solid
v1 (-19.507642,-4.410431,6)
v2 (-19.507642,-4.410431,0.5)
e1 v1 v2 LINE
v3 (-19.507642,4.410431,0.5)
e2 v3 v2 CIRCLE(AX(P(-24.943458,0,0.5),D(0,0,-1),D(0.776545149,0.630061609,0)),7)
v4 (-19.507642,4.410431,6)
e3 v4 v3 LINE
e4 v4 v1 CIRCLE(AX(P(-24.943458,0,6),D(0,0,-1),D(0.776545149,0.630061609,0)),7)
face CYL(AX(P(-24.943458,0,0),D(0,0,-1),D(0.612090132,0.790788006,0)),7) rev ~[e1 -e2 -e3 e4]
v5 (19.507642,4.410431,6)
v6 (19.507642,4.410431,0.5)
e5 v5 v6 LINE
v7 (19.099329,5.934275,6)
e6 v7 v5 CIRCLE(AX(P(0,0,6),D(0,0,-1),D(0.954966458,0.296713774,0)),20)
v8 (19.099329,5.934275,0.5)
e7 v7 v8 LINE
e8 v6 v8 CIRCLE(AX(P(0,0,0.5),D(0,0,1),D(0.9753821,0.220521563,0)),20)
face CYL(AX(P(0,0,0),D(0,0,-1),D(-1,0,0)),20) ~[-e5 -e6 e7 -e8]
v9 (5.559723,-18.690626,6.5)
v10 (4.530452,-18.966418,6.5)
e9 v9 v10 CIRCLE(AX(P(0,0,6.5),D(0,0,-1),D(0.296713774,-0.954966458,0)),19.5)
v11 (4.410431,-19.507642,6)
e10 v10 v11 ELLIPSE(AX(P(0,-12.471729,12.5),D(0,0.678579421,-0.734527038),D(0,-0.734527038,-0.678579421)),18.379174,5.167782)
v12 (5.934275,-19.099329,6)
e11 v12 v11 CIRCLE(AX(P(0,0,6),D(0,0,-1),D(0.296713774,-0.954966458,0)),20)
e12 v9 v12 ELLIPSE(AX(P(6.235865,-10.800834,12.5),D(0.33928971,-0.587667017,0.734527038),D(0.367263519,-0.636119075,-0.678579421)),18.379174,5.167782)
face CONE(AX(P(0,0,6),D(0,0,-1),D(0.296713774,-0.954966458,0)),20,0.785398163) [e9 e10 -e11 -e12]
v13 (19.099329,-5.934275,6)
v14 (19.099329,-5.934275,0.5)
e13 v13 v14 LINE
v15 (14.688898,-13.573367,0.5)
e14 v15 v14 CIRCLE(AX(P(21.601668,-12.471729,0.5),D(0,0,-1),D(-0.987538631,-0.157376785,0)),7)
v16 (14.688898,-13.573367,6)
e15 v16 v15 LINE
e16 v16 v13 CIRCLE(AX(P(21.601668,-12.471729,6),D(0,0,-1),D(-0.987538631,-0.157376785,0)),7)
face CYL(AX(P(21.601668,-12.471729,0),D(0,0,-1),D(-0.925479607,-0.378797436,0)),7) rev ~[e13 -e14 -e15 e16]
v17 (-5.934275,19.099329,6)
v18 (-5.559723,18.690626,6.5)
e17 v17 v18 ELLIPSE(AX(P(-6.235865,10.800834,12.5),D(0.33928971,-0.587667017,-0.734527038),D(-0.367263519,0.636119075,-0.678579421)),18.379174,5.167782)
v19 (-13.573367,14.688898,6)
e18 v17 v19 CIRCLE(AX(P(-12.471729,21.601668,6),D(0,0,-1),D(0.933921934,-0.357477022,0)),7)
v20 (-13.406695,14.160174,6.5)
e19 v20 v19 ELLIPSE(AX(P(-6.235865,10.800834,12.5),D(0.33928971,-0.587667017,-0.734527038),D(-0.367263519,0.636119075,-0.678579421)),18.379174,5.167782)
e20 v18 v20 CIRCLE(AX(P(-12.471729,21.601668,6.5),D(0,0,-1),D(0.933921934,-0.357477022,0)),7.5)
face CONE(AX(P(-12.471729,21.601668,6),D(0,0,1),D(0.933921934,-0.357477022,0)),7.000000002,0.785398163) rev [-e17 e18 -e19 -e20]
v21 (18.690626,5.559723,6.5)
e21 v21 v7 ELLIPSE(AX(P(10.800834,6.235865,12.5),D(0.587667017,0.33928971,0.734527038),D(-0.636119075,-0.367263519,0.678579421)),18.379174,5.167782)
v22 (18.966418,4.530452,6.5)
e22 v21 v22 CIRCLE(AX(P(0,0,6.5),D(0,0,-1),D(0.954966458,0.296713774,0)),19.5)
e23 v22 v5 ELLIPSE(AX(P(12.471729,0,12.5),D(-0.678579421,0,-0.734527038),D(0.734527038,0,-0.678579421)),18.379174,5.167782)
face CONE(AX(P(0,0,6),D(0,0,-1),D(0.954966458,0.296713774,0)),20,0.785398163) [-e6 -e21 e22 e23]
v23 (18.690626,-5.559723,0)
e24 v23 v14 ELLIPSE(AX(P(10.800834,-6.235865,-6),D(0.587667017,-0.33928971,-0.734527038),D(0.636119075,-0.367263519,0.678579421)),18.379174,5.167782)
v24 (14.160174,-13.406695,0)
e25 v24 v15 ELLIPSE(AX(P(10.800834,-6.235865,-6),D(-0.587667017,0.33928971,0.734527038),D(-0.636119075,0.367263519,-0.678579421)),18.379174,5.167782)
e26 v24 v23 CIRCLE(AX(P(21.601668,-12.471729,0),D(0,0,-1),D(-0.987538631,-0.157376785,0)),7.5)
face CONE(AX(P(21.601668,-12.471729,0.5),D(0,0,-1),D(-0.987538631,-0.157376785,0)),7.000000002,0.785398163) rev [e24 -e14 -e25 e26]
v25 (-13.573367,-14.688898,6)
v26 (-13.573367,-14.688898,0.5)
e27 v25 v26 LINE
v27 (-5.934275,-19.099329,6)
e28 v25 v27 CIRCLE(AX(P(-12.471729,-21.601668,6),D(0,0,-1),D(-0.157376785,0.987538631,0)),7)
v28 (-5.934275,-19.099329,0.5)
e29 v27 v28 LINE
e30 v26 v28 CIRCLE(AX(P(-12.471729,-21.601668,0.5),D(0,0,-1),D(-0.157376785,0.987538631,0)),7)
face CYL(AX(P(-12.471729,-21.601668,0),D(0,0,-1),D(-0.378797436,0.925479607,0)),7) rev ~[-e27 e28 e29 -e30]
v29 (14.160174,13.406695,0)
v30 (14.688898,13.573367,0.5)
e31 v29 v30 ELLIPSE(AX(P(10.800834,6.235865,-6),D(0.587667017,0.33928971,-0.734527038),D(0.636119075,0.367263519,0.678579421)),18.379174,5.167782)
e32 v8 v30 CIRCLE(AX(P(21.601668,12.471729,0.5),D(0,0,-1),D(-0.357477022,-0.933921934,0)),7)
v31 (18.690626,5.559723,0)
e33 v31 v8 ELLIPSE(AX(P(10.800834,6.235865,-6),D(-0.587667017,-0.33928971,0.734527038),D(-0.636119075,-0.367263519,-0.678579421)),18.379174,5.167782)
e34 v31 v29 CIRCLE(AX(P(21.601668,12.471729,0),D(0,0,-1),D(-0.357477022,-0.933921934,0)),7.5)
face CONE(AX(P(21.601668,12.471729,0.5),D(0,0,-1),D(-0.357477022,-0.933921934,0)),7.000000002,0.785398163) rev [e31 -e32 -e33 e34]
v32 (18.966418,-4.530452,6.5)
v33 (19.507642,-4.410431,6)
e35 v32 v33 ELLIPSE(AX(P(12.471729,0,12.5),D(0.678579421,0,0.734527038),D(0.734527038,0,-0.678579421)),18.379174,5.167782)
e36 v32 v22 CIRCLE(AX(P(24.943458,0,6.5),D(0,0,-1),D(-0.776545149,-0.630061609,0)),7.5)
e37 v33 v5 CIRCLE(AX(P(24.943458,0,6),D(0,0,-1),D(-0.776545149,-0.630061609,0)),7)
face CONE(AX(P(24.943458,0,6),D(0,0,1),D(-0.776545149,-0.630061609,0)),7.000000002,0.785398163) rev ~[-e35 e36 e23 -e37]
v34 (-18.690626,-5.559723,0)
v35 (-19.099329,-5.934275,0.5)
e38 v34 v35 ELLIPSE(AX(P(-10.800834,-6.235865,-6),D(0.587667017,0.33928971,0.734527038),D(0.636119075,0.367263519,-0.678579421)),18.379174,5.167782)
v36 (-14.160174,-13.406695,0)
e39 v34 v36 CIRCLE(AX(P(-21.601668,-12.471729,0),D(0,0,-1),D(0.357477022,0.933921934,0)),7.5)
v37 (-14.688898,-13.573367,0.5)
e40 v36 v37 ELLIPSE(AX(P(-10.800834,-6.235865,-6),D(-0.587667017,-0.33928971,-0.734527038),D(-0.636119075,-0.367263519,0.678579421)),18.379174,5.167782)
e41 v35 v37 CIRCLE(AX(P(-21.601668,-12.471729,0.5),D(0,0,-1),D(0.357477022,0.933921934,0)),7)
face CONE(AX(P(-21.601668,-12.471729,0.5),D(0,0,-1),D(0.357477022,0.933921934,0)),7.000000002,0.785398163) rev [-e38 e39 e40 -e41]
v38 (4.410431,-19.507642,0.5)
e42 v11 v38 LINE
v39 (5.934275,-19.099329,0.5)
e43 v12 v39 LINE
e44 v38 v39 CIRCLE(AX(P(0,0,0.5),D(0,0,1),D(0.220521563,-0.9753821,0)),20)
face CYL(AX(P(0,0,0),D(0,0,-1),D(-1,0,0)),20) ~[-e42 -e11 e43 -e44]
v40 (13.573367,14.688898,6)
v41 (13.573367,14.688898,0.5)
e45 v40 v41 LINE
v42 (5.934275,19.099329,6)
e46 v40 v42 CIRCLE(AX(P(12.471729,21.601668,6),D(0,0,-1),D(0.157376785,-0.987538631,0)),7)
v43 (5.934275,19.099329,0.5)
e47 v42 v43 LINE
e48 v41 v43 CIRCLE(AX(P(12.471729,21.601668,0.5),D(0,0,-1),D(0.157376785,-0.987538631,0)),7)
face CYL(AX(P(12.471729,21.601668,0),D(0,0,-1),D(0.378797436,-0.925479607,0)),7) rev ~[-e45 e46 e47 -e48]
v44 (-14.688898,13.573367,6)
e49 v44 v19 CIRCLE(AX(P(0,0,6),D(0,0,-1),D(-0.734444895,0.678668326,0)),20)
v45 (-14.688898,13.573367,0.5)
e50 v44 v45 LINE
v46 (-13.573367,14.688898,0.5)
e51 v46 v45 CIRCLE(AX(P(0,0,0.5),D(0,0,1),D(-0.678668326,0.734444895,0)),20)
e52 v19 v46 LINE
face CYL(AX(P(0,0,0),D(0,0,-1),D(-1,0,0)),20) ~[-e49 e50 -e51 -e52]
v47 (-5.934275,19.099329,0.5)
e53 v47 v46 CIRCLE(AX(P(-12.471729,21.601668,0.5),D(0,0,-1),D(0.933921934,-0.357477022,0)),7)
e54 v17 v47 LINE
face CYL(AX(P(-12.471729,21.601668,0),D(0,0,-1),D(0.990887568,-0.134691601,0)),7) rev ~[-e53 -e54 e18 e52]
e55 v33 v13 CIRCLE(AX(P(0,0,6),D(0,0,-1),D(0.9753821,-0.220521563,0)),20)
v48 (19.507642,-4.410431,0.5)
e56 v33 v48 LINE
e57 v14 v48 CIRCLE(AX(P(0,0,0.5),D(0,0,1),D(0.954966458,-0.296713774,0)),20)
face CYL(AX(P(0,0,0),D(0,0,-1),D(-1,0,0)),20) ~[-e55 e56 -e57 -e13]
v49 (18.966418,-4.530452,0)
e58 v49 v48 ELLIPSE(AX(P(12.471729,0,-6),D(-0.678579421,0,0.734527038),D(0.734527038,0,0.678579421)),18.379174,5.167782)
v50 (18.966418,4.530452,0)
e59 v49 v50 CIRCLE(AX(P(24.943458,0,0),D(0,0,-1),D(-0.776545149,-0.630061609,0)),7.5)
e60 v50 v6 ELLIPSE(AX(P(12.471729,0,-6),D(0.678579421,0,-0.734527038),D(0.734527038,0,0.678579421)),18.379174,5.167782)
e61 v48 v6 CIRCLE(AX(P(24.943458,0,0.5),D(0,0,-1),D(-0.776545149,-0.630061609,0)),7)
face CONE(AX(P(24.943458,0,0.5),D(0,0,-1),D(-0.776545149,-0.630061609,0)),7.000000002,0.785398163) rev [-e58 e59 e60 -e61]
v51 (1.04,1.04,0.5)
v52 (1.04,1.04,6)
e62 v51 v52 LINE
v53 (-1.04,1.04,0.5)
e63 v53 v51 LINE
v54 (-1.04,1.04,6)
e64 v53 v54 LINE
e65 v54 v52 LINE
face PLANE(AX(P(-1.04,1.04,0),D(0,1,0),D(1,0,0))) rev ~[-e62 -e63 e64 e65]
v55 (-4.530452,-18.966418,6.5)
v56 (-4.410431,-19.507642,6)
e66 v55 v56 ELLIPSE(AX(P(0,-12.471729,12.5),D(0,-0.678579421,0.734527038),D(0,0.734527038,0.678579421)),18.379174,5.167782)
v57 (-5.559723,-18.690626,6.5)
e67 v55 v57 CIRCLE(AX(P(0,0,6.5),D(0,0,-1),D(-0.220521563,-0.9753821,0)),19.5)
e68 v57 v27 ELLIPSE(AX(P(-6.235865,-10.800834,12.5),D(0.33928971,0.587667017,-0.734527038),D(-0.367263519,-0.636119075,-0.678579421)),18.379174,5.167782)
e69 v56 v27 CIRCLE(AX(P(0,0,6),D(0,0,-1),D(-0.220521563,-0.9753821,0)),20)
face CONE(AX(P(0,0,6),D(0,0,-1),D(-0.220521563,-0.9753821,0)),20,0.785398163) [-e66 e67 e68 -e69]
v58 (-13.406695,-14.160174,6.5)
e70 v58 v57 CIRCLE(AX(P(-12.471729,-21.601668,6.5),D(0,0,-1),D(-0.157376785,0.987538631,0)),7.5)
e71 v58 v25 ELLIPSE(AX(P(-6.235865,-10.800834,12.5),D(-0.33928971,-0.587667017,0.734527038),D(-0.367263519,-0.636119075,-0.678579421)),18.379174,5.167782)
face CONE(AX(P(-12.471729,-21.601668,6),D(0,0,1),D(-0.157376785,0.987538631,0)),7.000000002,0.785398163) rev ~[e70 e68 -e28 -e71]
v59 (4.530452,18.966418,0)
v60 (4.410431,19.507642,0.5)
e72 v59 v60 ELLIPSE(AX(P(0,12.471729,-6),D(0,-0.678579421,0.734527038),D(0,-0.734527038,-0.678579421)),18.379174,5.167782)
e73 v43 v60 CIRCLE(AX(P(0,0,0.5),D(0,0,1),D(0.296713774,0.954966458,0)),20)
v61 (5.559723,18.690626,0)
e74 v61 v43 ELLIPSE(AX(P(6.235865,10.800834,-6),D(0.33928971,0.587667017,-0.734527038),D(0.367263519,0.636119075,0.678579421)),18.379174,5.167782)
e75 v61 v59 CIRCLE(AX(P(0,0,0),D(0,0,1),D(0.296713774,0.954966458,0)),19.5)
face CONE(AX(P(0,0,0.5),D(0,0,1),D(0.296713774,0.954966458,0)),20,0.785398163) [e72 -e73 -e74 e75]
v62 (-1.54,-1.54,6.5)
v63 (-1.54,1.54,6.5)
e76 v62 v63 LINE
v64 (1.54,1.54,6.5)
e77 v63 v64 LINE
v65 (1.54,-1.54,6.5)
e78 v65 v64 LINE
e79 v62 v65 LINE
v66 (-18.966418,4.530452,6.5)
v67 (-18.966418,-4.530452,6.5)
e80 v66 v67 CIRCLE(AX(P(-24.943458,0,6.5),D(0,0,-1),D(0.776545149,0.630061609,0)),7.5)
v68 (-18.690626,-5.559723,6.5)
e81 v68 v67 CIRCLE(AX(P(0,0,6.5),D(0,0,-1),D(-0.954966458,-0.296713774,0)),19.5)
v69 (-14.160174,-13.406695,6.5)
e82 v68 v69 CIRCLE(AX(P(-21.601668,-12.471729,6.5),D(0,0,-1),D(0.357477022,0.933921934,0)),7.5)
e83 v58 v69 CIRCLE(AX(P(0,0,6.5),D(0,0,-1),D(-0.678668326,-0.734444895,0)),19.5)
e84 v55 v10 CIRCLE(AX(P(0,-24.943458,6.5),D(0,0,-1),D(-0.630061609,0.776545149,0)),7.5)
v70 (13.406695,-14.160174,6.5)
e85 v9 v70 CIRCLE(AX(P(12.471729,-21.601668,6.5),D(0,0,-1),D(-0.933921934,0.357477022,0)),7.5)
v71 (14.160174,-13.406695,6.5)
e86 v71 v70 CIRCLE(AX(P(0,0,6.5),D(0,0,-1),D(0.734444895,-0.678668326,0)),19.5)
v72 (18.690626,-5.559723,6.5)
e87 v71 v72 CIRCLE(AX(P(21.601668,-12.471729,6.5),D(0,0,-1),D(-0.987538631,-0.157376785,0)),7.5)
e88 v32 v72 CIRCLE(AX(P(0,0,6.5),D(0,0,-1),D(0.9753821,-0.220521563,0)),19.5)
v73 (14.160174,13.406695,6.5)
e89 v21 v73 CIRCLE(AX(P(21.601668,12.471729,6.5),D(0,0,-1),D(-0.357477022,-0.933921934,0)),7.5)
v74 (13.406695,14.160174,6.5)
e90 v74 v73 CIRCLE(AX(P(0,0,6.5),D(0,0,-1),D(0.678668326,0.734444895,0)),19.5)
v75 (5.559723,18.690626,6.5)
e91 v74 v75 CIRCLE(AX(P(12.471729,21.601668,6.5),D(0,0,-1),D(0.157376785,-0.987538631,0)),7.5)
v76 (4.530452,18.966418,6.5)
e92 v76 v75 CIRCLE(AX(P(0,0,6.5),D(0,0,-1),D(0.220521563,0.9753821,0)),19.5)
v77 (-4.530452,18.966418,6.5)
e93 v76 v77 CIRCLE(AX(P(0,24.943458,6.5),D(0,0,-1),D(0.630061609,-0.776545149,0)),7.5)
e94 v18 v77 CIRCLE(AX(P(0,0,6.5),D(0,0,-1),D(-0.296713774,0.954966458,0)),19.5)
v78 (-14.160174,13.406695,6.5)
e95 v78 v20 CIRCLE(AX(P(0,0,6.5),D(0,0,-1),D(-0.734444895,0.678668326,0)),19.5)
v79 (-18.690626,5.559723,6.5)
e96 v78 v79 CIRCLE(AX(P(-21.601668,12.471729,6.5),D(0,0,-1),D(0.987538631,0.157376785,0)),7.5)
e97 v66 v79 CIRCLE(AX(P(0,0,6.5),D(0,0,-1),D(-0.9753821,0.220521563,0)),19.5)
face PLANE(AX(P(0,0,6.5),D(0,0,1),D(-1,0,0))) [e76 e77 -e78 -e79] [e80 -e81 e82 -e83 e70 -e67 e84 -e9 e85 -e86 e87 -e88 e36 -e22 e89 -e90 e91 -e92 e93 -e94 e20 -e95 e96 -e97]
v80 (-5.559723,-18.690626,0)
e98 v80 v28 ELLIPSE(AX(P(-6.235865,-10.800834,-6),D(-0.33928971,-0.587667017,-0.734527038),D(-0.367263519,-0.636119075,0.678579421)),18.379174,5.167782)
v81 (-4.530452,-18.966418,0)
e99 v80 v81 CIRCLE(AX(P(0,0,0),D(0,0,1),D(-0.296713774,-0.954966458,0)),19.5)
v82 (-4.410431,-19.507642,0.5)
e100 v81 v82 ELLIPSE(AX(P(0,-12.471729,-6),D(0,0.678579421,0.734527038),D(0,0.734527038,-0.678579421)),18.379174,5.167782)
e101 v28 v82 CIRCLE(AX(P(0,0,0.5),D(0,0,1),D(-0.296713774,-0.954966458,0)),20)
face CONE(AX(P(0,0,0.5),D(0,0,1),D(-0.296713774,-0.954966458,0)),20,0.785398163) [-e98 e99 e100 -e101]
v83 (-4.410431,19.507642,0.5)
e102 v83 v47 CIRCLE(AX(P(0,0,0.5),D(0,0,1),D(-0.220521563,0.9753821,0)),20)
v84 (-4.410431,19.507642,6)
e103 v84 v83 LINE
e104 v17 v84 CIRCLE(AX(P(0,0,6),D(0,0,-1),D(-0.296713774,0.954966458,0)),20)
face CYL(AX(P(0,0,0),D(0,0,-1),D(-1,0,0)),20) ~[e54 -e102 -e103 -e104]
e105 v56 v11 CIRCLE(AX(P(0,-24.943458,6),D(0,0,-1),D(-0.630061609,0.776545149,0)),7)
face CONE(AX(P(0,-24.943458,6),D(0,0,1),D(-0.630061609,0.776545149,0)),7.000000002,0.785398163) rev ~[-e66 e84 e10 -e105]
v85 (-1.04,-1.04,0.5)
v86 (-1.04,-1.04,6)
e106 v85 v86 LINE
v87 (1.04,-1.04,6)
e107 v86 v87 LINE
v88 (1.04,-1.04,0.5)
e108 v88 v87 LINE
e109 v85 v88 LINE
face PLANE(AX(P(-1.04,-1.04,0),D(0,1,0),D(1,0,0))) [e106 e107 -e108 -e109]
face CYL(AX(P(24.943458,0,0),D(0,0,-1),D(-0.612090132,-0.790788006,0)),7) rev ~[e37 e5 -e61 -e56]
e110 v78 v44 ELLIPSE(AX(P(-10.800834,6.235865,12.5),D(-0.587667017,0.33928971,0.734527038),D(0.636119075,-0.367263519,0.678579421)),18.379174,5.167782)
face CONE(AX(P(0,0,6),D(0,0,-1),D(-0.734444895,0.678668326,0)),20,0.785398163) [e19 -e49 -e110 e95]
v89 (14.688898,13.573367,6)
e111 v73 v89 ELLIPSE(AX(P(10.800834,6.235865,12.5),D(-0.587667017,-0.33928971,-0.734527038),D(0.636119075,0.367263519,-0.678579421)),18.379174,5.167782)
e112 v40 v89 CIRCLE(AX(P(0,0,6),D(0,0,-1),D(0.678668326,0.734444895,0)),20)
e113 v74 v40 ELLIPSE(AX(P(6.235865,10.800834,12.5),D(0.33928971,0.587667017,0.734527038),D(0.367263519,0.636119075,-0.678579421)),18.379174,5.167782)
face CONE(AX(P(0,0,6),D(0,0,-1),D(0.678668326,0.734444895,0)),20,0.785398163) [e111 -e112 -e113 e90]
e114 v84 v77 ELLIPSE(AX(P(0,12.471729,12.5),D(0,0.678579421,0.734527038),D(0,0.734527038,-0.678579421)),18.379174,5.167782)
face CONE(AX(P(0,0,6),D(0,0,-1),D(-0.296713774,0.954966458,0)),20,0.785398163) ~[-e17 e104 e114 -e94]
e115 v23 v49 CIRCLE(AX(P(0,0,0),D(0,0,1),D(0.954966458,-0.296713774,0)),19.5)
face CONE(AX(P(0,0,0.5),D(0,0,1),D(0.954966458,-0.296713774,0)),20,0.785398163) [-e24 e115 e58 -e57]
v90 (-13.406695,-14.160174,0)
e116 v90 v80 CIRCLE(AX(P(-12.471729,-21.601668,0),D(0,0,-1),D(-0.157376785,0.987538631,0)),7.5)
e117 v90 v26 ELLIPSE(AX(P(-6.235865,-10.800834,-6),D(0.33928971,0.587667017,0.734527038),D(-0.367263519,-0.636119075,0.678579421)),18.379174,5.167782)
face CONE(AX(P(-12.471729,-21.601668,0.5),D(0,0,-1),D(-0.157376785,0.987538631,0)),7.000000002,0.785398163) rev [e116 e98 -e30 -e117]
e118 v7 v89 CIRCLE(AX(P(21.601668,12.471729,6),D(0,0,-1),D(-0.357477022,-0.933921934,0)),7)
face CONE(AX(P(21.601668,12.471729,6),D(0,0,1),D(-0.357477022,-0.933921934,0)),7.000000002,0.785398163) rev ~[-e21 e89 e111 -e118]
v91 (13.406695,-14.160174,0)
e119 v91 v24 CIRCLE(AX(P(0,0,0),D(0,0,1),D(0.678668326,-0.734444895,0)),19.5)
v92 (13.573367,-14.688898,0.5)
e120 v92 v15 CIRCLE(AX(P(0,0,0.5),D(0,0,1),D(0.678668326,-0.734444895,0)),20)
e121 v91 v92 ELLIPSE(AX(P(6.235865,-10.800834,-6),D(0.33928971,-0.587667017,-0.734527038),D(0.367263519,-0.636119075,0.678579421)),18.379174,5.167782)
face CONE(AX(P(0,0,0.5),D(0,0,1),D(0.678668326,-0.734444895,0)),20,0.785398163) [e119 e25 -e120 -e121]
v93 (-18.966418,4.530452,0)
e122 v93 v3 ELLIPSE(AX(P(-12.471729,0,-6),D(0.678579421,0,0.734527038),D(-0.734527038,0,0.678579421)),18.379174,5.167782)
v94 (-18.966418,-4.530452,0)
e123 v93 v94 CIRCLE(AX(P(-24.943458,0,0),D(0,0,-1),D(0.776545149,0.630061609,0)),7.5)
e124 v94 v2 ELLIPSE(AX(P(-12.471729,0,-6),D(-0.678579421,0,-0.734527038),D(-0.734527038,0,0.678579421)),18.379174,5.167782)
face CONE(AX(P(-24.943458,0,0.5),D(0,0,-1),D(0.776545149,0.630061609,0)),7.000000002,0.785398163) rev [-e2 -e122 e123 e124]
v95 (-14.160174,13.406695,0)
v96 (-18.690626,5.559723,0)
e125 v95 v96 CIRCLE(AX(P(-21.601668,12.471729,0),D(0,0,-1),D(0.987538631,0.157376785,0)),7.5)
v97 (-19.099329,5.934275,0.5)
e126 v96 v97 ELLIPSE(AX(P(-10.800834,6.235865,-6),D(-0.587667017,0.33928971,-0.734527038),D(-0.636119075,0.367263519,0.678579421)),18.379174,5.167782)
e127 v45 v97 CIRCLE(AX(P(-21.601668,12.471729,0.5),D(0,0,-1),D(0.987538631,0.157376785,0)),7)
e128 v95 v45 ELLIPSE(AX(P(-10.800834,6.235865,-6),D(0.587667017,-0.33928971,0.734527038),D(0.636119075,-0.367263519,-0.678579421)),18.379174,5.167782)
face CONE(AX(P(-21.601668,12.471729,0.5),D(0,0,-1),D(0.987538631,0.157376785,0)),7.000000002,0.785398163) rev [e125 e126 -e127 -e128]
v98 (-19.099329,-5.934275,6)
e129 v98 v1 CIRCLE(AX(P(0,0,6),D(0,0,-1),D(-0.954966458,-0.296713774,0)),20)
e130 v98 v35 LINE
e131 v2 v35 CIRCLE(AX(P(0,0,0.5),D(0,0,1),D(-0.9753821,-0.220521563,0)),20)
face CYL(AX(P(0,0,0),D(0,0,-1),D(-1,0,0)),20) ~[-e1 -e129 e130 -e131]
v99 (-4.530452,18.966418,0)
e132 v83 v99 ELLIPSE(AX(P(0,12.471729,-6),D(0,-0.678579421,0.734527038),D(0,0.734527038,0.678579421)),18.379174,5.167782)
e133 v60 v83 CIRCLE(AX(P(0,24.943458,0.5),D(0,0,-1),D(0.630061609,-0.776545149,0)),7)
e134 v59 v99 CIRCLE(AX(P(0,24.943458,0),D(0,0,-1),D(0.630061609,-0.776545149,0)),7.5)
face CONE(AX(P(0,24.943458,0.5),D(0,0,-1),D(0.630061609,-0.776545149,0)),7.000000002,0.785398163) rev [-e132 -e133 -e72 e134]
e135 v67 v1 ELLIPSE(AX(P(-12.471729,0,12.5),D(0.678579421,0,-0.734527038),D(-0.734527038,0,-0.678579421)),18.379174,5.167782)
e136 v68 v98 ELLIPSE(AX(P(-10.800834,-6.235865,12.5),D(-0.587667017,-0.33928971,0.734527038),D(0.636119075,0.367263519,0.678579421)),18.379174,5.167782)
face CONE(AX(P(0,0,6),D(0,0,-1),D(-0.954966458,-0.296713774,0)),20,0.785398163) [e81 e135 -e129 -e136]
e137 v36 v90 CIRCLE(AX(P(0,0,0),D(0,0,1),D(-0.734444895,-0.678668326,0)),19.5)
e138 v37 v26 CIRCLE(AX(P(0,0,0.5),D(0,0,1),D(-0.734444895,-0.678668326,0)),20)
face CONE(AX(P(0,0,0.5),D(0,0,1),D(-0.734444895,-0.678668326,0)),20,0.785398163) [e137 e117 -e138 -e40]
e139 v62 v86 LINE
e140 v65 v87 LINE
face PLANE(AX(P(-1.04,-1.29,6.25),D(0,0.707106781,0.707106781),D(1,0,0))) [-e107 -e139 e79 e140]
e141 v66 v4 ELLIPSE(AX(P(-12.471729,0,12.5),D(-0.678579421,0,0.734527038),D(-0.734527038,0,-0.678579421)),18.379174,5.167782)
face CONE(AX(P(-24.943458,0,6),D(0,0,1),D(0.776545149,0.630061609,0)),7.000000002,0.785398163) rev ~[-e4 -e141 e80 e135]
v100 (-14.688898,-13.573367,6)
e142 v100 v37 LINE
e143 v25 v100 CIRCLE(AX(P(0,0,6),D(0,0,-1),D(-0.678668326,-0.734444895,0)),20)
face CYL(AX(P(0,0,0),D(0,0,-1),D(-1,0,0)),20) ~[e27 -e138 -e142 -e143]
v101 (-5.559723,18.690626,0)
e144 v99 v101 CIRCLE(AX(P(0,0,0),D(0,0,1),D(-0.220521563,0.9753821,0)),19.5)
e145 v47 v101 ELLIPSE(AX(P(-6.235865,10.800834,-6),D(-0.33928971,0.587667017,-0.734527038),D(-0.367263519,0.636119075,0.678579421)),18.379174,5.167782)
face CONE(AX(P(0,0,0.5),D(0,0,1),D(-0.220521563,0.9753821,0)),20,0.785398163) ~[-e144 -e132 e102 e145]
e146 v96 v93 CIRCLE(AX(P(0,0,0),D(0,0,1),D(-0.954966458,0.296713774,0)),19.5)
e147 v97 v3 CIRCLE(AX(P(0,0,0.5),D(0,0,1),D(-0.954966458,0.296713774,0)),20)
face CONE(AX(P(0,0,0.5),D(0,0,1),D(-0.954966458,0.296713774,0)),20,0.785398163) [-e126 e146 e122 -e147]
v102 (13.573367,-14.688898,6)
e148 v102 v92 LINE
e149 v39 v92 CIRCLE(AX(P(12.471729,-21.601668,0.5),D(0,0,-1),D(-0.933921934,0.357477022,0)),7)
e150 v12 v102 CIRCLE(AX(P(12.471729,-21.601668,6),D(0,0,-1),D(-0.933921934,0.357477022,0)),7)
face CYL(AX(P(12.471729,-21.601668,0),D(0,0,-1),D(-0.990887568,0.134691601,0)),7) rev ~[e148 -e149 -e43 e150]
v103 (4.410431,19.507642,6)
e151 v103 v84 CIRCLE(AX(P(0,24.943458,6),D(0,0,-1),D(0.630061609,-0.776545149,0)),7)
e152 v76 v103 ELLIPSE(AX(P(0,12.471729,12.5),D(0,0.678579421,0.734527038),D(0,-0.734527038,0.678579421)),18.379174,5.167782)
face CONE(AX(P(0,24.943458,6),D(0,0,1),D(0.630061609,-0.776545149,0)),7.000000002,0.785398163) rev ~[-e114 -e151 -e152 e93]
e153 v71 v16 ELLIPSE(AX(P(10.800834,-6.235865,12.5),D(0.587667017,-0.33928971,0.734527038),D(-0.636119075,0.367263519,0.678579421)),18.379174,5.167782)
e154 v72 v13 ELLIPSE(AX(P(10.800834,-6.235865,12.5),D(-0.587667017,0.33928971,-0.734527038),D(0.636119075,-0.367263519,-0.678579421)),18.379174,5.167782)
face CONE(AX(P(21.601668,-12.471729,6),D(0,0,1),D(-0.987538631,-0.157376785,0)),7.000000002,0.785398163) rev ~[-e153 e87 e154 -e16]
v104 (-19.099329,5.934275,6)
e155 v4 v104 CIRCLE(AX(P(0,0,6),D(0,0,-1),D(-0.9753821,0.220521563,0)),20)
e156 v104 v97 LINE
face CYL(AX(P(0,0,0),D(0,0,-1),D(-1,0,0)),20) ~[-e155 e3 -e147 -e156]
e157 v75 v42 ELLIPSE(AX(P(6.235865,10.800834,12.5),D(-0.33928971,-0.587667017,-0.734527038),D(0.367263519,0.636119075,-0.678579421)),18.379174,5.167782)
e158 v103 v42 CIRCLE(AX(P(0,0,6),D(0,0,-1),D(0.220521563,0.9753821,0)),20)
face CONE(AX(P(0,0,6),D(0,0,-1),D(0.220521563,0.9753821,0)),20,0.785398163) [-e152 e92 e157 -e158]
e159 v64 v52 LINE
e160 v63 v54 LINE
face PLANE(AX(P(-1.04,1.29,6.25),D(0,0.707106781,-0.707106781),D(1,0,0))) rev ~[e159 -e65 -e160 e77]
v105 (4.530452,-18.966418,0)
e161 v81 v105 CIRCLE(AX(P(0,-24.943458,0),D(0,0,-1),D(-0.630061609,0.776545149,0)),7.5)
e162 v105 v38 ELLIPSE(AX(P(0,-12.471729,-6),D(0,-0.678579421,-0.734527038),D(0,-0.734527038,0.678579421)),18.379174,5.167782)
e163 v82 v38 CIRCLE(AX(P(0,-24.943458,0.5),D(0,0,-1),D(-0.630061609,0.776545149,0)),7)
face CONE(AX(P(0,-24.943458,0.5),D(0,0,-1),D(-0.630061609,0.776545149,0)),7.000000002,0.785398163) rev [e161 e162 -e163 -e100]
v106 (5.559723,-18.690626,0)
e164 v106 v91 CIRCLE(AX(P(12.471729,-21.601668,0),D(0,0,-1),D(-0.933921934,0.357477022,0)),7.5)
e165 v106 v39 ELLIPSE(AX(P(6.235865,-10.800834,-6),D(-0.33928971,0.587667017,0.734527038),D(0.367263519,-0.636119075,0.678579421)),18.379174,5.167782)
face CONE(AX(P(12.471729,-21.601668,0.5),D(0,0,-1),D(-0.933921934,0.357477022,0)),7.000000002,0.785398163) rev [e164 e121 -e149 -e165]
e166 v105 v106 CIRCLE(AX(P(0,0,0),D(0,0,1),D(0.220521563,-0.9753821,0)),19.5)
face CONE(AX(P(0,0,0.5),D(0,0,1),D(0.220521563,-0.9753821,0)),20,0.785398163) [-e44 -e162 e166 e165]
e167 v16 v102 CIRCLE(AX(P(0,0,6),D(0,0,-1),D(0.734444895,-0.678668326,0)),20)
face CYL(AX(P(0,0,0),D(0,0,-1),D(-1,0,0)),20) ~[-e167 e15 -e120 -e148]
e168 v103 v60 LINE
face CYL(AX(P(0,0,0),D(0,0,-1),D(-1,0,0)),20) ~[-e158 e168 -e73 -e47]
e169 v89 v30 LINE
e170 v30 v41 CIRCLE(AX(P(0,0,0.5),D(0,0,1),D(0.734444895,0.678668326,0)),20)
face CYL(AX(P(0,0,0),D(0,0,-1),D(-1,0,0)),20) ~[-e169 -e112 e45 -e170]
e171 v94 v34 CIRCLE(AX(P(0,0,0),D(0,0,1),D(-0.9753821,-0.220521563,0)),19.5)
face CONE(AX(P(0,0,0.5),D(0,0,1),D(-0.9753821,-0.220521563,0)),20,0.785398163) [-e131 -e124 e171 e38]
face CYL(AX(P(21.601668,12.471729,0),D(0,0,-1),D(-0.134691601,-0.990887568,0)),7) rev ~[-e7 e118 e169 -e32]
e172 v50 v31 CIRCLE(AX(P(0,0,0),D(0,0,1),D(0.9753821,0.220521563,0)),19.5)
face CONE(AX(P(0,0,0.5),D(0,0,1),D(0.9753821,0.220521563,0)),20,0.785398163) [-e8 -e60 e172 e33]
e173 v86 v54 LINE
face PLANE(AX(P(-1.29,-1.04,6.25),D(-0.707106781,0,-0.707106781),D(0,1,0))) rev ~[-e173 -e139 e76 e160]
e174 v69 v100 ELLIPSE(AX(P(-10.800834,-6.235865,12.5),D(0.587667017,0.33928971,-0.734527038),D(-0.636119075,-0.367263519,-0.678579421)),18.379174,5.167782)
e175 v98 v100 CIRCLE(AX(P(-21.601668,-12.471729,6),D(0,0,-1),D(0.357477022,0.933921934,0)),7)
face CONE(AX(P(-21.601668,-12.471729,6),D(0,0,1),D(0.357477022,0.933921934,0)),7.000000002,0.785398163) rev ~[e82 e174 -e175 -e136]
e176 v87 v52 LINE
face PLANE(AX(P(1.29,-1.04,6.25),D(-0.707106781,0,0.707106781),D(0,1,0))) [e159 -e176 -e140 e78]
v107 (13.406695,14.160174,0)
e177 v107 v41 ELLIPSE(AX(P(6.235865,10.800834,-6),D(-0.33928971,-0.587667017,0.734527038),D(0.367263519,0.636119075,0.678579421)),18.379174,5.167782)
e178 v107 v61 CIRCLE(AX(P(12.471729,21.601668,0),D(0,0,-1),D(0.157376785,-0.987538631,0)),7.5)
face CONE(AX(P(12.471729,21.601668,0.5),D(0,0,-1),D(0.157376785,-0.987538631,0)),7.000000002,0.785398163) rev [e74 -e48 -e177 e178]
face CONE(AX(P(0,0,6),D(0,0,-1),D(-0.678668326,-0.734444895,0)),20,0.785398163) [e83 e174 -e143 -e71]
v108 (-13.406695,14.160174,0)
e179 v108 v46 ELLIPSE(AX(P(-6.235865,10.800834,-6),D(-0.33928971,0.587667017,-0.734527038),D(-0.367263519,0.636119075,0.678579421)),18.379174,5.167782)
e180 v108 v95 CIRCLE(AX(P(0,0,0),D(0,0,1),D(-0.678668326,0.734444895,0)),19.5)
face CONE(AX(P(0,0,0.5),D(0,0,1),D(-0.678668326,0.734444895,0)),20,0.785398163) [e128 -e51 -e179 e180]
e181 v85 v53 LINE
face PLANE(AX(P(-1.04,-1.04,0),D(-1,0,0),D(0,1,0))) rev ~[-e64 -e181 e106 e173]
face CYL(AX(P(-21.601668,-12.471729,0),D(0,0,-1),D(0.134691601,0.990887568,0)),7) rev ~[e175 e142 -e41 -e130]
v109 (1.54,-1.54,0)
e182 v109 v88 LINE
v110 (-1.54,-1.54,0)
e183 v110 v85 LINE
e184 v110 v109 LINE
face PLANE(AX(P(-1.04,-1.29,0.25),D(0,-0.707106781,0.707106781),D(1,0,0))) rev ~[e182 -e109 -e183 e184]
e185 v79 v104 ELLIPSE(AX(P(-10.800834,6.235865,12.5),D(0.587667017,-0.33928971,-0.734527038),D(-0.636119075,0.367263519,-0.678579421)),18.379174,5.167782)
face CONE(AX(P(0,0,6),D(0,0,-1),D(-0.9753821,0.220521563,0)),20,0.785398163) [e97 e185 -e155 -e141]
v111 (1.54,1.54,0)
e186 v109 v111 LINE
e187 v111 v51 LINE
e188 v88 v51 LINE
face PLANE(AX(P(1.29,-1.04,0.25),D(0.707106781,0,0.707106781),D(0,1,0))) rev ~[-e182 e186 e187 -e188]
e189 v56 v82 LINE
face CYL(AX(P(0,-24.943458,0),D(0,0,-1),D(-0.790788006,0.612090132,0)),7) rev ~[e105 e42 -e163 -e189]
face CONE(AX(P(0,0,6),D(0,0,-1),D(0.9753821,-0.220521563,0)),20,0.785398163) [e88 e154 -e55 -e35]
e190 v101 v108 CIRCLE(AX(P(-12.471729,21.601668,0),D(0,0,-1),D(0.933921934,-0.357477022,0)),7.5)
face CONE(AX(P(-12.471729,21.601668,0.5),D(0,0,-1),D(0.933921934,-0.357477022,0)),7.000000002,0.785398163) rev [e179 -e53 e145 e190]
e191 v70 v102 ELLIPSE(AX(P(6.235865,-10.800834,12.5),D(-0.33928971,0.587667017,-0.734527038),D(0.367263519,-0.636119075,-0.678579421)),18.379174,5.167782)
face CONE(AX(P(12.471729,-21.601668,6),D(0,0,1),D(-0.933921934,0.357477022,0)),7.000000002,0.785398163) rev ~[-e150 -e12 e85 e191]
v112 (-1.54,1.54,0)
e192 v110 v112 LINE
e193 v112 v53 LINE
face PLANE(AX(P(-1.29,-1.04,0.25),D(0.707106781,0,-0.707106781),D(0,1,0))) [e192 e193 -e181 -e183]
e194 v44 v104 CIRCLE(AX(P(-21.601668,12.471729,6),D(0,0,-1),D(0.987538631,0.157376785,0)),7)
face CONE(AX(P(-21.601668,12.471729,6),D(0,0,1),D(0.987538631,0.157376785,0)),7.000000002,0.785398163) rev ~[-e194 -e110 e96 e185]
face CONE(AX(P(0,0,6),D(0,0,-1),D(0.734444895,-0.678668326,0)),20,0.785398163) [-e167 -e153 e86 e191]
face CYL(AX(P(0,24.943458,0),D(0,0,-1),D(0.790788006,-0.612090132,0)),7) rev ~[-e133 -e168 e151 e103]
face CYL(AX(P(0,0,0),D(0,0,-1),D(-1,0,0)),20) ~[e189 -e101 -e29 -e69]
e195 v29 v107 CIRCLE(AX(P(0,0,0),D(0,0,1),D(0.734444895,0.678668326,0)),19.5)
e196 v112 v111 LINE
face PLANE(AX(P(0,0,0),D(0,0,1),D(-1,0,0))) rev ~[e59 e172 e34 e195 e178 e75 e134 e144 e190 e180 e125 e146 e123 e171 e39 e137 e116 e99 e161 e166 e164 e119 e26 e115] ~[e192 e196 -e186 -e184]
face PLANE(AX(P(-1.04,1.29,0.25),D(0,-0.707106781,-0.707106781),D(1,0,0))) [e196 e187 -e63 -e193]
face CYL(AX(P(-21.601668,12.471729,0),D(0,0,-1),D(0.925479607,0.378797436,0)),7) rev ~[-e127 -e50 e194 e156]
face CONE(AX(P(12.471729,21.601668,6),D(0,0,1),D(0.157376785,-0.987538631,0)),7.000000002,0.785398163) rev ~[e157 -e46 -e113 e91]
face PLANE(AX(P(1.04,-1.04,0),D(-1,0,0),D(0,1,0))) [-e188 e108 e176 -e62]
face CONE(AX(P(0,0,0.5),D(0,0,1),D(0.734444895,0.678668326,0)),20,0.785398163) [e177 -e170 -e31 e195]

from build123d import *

# Parameters (mm, degrees)
SKIZZE1_R                       = 20
SKIZZE1_W                       = 2.08
SKIZZE1_H                       = 2.08
AUFSATZ_LINEAR_AUSTRAGEN1_DEPTH = 6.5
SCHNITT_LINEAR_AUSTRAGEN1_DEPTH = 6.5
KREISMUSTER1_COUNT              = 12
FASE1_SIZE                      = 0.5


with BuildPart() as part:
    # Skizze1 → Aufsatz-Linear austragen1 (new body)
    with BuildSketch(Plane.XY):
        with Locations(Location((0, 0, 0), (0, 0, 180))):
            Circle(SKIZZE1_R)
        Rectangle(SKIZZE1_W, SKIZZE1_H, mode=Mode.SUBTRACT)
    extrude(amount=AUFSATZ_LINEAR_AUSTRAGEN1_DEPTH)

    # Skizze2 → Schnitt-Linear austragen1 (cut)
    with BuildSketch(Plane.XY):
        with BuildLine():
            Line((-5.535516041, 20.658827109), (5.535516041, 20.658827109))
            ThreePointArc((5.535516041, 20.658827109), (0, 17.943458035), (-5.535516041, 20.658827109))
        make_face()
    schnitt_linear_austragen1 = extrude(amount=SCHNITT_LINEAR_AUSTRAGEN1_DEPTH, mode=Mode.SUBTRACT)

    # Kreismuster1: Schnitt-Linear austragen1 ×12 about axis
    kreismuster1_axis = Axis((0, 0, 0), (0, 0, 1))
    for i in range(1, KREISMUSTER1_COUNT):
        add(schnitt_linear_austragen1.rotate(kreismuster1_axis, i * 360 / KREISMUSTER1_COUNT), mode=Mode.SUBTRACT)

    # Fase1
    fase1_edges = [part.edges().sort_by_distance(p)[0] for p in [
        (1.04, 0, 6.5),
        (0, 1.04, 6.5),
        (-19.318516526, 5.176380902, 0),
        (-15.53949049, 8.971729017, 0),
        (-19.318516526, 5.176380902, 6.5),
        (-15.53949049, 8.971729017, 6.5),
        (-14.142135624, -14.142135624, 0),
        (-15.53949049, -8.971729017, 0),
        (-14.142135624, -14.142135624, 6.5),
        (-15.53949049, -8.971729017, 6.5),
        (5.176380902, -19.318516526, 0),
        (0, -17.943458035, 0),
        (5.176380902, -19.318516526, 6.5),
        (0, -17.943458035, 6.5),
        (19.318516526, -5.176380902, 0),
        (15.53949049, -8.971729017, 0),
        (19.318516526, -5.176380902, 6.5),
        (15.53949049, -8.971729017, 6.5),
        (14.142135624, 14.142135624, 0),
        (15.53949049, 8.971729017, 0),
        (14.142135624, 14.142135624, 6.5),
        (15.53949049, 8.971729017, 6.5),
        (-5.176380902, 19.318516526, 6.5),
        (-5.176380902, 19.318516526, 0),
        (0, 17.943458035, 0),
        (0, 17.943458035, 6.5),
        (-14.142135624, 14.142135624, 0),
        (-19.318516526, -5.176380902, 0),
        (-5.176380902, -19.318516526, 0),
        (14.142135624, -14.142135624, 0),
        (19.318516526, 5.176380902, 0),
        (5.176380902, 19.318516526, 0),
        (-8.971729017, 15.53949049, 0),
        (-17.943458035, 0, 0),
        (-8.971729017, -15.53949049, 0),
        (8.971729017, -15.53949049, 0),
        (17.943458035, 0, 0),
        (8.971729017, 15.53949049, 0),
        (-14.142135624, 14.142135624, 6.5),
        (-19.318516526, -5.176380902, 6.5),
        (-5.176380902, -19.318516526, 6.5),
        (14.142135624, -14.142135624, 6.5),
        (19.318516526, 5.176380902, 6.5),
        (5.176380902, 19.318516526, 6.5),
        (8.971729017, 15.53949049, 6.5),
        (17.943458035, 0, 6.5),
        (8.971729017, -15.53949049, 6.5),
        (-8.971729017, -15.53949049, 6.5),
        (-1.04, 0, 0),
        (0, -1.04, 0),
        (-17.943458035, 0, 6.5),
        (1.04, 0, 0),
        (-8.971729017, 15.53949049, 6.5),
        (0, 1.04, 0),
        (-1.04, 0, 6.5),
        (0, -1.04, 6.5),
    ]]
    chamfer(fase1_edges, length=FASE1_SIZE)


solid = part.part
